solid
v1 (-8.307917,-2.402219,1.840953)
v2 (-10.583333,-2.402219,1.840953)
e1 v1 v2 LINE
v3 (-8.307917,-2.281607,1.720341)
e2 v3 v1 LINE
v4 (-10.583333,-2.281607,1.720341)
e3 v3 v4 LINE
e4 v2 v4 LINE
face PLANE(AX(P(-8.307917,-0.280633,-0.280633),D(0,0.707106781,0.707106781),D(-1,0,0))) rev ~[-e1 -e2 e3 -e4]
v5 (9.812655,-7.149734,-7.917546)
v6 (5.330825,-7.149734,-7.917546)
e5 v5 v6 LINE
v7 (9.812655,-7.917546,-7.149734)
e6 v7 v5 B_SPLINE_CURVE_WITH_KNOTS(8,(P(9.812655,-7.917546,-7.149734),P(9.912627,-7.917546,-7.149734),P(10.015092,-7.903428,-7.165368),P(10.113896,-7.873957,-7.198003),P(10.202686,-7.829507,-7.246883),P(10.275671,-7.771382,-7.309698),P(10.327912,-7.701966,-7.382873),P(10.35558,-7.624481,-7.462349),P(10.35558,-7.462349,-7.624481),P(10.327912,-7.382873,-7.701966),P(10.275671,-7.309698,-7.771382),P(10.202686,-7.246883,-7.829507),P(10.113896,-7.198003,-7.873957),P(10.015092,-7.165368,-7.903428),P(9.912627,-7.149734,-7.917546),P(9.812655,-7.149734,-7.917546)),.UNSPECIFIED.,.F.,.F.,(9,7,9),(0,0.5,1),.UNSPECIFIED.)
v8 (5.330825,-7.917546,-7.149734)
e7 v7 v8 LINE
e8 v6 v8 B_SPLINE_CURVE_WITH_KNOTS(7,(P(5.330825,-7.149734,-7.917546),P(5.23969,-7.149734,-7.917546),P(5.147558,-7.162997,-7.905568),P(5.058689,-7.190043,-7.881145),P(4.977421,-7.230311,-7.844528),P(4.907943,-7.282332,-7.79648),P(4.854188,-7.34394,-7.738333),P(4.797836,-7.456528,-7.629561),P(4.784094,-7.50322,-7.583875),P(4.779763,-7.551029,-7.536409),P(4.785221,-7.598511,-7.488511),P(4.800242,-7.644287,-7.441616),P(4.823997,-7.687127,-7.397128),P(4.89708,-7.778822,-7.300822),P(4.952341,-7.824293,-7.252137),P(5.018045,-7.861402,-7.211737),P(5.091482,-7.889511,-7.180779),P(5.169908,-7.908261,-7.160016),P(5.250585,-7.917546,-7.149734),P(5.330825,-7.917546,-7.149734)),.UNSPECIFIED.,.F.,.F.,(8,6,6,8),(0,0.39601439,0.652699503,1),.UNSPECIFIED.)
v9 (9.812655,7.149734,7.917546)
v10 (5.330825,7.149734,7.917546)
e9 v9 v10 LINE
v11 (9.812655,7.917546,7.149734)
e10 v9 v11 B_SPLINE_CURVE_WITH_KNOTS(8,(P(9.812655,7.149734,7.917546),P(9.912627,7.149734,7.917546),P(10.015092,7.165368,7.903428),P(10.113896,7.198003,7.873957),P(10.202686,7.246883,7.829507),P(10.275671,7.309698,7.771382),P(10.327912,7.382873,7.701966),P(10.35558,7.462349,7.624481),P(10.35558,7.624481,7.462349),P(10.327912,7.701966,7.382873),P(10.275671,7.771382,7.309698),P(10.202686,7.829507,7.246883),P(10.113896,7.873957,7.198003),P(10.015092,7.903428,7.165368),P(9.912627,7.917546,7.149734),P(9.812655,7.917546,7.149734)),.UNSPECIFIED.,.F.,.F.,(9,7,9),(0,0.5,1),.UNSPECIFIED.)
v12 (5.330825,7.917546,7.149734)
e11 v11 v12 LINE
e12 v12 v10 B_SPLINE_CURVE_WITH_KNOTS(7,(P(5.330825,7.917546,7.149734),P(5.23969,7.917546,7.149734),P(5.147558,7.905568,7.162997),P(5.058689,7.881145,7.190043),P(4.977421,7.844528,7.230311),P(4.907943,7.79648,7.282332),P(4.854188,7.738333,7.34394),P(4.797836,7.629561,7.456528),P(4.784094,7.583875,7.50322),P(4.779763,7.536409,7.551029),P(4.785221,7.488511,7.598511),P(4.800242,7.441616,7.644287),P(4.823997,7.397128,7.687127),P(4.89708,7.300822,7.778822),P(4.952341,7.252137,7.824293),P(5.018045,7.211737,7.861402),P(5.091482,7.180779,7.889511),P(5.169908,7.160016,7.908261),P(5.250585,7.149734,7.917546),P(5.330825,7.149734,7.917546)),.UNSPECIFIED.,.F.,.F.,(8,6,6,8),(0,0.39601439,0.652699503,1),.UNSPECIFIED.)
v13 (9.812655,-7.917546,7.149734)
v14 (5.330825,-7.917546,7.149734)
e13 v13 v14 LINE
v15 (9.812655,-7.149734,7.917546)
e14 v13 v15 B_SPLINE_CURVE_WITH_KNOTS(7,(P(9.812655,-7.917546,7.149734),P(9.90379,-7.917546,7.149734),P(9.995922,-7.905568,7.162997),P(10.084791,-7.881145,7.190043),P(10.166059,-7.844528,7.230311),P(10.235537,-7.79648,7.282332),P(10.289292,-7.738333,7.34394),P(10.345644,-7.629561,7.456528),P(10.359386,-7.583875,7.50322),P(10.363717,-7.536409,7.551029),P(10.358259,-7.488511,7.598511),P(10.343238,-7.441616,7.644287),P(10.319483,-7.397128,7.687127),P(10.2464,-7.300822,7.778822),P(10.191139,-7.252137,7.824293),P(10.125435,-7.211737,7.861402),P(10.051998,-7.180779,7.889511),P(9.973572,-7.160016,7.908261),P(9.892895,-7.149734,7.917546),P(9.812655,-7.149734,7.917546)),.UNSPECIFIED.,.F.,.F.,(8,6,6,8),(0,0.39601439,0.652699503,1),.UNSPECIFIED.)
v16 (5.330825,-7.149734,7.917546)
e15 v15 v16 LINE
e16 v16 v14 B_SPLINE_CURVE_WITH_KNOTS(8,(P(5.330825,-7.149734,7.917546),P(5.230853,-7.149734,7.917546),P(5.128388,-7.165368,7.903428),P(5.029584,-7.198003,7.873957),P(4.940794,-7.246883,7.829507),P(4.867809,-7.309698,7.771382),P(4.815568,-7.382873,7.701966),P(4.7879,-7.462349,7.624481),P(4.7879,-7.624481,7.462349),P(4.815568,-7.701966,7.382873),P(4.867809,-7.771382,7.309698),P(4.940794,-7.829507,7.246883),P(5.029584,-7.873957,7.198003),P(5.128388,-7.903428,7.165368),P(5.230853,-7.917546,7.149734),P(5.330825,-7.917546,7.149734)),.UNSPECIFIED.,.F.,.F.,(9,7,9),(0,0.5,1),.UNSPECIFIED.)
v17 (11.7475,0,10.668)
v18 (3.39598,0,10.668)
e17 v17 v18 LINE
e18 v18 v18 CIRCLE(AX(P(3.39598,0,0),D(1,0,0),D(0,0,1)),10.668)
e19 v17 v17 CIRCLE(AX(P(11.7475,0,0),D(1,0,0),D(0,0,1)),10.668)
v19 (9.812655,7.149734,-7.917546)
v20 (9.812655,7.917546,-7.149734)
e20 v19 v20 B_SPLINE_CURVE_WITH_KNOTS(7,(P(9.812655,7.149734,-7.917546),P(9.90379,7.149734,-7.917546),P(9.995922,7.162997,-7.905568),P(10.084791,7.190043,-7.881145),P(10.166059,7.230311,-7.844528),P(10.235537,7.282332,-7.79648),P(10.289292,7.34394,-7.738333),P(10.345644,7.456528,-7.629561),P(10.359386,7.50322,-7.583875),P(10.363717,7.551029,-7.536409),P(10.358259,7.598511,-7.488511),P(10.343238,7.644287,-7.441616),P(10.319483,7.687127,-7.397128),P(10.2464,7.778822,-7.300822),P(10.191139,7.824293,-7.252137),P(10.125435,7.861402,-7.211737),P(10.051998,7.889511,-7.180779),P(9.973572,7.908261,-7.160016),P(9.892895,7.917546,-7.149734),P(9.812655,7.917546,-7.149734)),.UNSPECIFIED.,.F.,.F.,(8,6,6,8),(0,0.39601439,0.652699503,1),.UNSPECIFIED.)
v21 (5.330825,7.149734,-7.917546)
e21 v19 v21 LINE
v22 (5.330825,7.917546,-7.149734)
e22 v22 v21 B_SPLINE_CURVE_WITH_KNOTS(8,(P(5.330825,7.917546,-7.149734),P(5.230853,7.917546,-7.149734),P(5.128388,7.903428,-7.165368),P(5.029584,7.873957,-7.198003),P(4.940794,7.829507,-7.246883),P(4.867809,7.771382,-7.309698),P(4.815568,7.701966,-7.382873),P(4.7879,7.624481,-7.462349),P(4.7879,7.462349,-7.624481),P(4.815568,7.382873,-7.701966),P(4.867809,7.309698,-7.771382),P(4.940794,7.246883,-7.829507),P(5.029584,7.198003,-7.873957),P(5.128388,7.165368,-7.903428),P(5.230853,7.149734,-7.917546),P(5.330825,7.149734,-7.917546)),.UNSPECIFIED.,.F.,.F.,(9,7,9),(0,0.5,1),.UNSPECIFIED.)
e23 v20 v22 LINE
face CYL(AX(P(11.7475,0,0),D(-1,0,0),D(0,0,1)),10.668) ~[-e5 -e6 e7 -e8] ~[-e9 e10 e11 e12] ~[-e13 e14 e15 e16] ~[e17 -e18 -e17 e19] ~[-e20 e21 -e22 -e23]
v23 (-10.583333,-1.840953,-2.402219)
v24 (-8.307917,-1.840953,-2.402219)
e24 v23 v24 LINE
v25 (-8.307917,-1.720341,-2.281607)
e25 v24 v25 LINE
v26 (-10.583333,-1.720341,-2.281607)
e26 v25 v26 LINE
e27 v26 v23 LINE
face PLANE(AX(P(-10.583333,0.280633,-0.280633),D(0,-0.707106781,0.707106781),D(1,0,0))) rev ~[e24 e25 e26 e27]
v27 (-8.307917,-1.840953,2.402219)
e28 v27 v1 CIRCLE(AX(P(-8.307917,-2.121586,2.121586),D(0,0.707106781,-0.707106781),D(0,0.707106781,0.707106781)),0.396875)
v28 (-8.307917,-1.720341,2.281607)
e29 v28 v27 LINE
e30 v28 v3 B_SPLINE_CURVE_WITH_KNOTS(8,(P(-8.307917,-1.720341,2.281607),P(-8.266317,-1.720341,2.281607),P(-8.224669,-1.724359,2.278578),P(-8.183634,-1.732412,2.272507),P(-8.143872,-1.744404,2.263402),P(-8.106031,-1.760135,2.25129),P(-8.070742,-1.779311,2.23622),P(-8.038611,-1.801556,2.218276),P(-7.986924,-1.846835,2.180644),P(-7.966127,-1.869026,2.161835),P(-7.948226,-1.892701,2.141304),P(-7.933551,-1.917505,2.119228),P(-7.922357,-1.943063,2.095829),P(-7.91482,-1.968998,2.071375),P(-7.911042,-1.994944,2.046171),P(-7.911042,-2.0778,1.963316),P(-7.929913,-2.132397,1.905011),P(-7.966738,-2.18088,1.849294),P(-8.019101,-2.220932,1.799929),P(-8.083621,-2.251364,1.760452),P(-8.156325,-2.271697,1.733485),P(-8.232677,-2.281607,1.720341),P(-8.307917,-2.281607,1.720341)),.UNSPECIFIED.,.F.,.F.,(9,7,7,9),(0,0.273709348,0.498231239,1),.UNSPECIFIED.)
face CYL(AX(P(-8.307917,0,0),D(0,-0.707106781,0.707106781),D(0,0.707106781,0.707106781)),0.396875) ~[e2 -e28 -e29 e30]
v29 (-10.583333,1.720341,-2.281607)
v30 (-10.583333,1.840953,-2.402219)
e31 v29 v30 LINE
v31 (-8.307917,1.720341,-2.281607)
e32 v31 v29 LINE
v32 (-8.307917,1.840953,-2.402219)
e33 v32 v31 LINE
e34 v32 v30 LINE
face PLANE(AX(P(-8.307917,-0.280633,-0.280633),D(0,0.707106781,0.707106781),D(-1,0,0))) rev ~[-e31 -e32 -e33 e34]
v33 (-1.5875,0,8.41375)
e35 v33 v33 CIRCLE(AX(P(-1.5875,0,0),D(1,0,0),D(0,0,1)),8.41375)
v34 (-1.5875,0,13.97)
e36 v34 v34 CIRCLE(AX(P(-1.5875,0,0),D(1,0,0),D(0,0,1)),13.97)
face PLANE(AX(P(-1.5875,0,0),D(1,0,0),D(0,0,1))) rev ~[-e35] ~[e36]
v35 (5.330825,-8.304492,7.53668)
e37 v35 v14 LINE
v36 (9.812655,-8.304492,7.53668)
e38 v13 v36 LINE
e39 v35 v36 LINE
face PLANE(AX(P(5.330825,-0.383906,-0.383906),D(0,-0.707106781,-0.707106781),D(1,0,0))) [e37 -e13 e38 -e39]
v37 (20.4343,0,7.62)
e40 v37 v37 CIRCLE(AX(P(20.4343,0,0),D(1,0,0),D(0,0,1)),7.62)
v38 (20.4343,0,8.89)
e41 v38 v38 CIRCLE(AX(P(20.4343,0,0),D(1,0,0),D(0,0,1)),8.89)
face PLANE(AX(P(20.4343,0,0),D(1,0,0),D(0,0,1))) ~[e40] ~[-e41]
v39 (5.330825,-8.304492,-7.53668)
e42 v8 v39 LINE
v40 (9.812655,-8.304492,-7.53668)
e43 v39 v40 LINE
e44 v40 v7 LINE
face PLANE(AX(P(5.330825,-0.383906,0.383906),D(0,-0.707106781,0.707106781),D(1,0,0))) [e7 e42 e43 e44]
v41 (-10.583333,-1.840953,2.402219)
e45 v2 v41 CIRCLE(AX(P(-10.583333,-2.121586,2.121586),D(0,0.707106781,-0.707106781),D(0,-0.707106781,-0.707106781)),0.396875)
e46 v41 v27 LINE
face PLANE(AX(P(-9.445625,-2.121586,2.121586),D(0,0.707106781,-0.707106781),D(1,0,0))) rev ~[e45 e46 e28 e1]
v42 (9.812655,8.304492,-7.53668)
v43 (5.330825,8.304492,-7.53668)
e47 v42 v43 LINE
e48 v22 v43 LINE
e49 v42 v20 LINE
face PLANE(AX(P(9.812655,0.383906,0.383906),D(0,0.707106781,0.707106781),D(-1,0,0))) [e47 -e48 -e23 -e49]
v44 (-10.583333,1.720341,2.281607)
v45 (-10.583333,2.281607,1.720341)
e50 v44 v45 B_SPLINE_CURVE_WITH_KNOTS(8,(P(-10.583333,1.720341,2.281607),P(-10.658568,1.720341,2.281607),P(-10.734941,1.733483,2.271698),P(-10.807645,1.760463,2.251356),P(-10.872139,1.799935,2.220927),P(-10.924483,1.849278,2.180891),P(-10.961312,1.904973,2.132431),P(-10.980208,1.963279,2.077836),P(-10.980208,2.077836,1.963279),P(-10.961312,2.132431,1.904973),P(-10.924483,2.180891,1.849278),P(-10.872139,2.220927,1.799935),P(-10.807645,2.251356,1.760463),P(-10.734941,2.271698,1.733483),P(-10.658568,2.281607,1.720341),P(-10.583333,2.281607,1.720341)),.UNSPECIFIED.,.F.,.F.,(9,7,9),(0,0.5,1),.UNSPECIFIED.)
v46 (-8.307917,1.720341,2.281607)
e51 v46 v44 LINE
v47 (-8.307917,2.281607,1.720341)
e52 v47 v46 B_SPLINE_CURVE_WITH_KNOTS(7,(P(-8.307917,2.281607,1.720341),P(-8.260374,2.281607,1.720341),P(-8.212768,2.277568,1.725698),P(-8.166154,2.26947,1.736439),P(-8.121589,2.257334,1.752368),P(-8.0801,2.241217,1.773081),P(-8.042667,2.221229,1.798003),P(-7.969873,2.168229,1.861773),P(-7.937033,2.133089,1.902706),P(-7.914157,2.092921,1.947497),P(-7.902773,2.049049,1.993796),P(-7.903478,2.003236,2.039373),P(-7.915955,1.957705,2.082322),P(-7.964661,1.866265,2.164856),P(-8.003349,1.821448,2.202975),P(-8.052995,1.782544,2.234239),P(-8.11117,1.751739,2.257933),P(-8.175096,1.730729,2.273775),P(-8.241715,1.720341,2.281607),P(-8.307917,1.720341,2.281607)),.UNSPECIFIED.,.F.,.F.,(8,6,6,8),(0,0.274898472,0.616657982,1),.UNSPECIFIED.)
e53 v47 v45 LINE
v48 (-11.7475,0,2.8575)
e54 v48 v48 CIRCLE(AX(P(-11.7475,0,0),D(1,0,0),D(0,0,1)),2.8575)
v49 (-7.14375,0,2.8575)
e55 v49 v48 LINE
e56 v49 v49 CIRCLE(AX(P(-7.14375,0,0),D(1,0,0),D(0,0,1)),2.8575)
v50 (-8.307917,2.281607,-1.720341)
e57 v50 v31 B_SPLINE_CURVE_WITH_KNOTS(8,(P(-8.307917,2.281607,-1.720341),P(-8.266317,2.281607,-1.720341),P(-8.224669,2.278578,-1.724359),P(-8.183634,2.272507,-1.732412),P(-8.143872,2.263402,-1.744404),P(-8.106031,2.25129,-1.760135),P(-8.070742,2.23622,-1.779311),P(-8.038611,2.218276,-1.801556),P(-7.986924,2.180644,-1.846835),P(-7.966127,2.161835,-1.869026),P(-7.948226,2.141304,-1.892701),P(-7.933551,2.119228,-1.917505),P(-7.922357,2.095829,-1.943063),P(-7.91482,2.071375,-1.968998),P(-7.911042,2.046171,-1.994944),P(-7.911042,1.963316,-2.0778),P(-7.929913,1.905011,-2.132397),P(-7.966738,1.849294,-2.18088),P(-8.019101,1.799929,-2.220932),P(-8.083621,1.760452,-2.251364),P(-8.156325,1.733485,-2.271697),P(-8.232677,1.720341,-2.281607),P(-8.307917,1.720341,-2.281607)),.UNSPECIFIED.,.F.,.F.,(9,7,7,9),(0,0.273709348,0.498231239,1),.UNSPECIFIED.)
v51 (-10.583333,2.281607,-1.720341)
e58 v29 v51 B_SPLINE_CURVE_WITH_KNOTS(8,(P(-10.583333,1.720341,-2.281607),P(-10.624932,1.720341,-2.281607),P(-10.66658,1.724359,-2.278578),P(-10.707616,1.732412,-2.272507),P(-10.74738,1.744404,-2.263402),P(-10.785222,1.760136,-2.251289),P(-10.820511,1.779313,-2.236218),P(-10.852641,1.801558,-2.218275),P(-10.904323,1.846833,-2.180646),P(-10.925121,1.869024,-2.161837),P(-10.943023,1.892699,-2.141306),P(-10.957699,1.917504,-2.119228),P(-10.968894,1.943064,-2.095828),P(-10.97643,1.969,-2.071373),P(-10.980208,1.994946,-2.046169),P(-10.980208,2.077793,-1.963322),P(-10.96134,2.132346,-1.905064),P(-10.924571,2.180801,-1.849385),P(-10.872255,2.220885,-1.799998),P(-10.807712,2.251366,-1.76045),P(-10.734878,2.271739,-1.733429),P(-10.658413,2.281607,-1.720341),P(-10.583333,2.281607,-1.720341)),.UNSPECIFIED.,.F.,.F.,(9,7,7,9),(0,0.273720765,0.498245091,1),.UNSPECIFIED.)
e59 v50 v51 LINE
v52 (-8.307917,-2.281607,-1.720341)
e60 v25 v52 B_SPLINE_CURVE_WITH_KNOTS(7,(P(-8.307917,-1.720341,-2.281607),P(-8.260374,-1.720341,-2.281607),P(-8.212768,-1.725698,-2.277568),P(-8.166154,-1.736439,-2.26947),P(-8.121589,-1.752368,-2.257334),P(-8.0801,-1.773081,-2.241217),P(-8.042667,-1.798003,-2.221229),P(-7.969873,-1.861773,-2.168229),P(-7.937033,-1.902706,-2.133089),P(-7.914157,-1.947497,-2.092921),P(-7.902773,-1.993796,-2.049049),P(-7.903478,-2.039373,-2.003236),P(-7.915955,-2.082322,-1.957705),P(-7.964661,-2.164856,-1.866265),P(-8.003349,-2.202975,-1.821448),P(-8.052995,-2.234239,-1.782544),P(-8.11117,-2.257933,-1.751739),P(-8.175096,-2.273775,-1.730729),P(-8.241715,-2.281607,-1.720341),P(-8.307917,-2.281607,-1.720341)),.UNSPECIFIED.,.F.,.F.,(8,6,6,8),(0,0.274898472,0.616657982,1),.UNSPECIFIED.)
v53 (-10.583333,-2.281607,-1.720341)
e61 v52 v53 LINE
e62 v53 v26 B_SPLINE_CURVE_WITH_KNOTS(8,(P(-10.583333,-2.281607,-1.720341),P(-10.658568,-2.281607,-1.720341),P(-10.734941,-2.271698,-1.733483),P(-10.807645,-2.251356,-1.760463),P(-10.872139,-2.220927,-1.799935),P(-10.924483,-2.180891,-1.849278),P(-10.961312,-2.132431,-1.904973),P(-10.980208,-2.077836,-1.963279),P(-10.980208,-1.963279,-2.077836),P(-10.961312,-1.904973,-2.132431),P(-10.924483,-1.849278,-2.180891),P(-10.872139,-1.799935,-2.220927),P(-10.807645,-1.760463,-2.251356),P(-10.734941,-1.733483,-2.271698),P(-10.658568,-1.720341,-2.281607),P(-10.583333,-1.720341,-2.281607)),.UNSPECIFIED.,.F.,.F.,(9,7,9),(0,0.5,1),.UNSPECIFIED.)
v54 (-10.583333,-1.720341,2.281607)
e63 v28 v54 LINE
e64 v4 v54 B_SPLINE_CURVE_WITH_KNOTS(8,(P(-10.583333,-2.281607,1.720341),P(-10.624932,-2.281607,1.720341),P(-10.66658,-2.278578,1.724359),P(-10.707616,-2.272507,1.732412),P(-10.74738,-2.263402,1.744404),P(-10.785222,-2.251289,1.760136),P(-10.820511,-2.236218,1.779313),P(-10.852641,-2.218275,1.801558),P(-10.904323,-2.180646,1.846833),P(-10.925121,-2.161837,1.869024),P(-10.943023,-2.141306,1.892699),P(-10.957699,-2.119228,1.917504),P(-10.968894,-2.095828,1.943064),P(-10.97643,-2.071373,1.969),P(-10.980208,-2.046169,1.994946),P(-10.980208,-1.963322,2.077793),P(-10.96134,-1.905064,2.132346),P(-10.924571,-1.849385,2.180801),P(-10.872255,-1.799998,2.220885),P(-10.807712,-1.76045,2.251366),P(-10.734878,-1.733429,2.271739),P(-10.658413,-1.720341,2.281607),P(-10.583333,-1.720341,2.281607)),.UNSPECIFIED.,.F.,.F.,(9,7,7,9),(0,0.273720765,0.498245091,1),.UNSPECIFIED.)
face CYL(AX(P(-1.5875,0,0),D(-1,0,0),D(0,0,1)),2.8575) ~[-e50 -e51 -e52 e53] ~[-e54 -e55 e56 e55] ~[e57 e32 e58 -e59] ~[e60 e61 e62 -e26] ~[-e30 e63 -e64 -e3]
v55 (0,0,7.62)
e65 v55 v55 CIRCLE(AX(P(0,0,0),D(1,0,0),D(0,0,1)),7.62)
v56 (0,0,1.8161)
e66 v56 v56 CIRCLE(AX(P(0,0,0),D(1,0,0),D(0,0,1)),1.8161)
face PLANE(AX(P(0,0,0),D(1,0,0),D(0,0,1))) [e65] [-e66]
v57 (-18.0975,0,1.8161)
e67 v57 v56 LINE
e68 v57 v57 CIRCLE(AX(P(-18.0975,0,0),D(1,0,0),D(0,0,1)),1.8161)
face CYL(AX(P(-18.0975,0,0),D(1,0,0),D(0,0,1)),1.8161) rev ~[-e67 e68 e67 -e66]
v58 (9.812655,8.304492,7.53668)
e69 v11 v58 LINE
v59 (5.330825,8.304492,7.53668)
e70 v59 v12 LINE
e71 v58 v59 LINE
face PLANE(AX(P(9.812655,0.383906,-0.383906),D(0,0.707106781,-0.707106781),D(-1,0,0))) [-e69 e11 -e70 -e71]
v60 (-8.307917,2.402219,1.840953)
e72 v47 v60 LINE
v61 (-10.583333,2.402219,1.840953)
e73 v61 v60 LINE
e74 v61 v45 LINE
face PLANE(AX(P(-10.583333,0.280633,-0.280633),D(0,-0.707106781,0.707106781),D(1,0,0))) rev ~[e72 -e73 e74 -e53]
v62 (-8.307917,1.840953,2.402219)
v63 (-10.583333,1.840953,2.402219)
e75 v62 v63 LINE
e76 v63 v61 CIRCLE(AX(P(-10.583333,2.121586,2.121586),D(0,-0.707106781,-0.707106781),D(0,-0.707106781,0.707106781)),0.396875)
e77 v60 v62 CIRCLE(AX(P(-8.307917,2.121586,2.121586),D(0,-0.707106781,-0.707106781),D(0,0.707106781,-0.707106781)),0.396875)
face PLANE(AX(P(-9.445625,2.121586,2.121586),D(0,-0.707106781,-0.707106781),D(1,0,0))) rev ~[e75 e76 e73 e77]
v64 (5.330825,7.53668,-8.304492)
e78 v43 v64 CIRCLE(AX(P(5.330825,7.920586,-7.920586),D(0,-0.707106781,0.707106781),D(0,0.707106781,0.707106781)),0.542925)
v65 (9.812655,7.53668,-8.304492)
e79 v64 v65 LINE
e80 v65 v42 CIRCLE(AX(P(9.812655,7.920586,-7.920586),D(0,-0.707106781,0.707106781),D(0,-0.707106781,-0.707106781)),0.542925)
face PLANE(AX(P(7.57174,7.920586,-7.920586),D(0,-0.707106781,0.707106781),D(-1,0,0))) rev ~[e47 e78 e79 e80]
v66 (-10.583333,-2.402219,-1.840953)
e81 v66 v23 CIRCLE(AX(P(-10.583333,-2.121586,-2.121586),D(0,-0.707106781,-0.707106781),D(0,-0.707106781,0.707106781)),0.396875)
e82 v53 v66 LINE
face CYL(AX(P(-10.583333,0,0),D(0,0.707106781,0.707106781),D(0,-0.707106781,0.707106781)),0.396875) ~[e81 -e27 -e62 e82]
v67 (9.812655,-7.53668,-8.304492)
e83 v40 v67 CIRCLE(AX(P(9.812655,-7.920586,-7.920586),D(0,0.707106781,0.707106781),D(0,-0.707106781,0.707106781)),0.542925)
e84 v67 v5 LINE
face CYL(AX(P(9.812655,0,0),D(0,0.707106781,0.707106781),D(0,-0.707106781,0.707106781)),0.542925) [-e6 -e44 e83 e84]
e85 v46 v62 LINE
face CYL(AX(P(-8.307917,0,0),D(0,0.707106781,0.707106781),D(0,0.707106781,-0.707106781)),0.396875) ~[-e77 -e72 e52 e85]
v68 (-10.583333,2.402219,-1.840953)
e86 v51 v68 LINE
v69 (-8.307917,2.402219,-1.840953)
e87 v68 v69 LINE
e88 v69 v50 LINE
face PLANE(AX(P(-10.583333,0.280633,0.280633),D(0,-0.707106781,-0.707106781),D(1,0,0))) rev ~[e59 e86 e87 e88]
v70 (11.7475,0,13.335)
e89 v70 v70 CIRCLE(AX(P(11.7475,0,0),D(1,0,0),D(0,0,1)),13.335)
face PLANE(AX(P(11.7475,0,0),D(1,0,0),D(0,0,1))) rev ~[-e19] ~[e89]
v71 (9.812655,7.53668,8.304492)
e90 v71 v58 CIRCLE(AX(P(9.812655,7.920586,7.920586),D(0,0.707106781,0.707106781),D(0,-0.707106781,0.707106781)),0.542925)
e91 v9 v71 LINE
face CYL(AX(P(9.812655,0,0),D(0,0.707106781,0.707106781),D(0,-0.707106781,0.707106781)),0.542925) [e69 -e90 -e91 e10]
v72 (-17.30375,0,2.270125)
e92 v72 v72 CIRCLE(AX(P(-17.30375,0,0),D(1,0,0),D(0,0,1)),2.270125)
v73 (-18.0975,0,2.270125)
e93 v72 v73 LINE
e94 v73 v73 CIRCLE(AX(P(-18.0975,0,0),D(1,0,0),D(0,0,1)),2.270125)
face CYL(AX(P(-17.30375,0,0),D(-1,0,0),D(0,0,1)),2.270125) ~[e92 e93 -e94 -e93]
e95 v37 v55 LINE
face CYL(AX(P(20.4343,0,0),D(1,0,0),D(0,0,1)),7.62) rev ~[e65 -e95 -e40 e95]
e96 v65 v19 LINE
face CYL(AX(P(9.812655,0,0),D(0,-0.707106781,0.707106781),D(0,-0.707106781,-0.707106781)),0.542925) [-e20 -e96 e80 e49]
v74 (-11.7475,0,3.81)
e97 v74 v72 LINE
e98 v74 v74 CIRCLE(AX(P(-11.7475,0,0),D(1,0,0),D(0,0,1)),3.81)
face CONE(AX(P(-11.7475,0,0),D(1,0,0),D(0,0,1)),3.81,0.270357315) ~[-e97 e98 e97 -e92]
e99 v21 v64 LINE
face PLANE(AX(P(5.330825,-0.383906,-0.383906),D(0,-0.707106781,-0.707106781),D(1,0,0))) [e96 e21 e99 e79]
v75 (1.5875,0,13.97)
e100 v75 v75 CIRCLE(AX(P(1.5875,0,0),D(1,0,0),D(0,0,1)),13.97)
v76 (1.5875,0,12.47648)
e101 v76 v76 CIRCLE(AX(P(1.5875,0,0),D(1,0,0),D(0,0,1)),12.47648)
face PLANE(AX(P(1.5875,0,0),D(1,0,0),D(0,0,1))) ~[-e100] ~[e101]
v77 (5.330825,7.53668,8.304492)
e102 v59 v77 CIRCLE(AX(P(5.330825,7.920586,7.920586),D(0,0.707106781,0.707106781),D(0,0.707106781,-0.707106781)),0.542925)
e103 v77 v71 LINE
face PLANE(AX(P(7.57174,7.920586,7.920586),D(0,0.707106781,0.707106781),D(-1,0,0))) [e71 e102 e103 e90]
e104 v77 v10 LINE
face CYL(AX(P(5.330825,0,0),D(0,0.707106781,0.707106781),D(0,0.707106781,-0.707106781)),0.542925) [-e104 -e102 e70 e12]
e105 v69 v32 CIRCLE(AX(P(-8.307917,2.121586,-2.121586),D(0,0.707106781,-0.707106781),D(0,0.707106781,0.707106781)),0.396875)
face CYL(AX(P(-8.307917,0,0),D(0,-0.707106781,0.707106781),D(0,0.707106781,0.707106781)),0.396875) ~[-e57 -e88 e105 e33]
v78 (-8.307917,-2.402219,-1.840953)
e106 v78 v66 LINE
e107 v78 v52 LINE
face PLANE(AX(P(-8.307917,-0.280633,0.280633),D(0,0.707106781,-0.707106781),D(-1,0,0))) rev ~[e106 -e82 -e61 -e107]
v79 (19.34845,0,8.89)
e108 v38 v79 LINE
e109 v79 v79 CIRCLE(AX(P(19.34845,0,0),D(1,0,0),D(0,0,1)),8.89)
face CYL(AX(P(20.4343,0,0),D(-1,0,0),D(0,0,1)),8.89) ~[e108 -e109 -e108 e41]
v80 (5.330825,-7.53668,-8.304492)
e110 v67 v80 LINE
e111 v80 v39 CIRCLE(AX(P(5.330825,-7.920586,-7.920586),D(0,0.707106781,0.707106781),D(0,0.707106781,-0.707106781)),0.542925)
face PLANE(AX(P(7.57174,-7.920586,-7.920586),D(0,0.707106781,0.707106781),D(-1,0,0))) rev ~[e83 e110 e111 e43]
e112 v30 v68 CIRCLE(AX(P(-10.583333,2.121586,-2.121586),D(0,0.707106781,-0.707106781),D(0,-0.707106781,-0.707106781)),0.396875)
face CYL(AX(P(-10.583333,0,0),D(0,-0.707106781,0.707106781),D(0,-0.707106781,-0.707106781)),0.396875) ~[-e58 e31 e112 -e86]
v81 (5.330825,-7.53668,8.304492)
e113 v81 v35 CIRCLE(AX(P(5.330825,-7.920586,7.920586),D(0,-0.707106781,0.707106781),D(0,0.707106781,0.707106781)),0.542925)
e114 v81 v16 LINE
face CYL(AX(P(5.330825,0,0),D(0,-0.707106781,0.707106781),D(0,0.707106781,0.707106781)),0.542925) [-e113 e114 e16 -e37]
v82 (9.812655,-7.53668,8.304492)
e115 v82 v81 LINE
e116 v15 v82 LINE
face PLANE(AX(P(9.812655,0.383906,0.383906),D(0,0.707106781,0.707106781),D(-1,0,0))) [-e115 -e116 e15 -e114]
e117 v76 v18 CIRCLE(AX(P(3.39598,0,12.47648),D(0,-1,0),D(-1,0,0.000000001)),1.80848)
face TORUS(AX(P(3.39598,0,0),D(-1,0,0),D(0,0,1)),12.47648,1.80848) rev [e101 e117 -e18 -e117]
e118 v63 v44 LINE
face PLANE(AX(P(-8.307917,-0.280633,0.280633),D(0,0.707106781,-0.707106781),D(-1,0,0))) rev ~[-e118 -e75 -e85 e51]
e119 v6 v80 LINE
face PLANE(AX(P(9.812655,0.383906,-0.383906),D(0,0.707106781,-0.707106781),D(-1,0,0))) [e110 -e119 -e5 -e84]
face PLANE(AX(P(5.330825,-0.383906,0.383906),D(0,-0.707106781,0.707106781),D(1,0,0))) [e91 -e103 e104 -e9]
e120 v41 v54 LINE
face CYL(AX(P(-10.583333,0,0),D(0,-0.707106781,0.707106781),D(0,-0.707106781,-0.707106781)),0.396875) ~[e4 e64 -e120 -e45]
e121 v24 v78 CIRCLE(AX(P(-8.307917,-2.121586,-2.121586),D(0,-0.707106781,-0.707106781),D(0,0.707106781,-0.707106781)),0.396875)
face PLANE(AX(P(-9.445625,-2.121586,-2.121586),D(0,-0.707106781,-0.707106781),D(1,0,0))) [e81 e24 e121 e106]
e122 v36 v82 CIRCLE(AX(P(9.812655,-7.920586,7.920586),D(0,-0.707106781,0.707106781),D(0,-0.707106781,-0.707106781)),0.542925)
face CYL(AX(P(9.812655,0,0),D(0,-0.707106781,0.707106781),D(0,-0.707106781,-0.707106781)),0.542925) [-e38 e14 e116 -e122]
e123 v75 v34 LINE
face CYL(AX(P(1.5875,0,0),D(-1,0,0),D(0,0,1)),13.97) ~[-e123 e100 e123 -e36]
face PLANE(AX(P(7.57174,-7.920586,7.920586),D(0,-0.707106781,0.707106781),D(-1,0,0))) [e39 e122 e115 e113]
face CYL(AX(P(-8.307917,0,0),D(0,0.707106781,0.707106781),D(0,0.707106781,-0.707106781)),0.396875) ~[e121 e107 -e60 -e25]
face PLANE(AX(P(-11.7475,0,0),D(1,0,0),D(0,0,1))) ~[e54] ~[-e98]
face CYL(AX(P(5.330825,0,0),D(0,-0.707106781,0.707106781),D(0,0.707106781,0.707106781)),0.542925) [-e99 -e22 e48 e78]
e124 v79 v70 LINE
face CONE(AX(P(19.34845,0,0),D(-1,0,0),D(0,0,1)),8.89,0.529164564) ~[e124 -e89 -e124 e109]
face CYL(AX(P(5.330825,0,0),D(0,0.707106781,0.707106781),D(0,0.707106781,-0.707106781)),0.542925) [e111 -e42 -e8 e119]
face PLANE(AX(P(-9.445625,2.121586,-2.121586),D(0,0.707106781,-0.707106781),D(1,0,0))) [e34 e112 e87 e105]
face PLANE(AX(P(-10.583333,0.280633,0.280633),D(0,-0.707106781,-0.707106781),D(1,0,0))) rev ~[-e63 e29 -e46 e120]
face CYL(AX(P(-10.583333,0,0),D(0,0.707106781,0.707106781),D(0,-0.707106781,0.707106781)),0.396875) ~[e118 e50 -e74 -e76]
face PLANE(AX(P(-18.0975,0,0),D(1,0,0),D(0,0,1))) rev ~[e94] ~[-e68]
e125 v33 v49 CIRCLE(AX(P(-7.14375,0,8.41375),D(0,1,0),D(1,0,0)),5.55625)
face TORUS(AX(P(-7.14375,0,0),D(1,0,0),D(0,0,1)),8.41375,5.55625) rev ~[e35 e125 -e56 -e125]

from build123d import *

# Parameters (mm, degrees)
EXTRUDE1_DEPTH     = 11.2014
EXTRUDE2_DEPTH     = 3.000375
CIRPATTERN1_COUNT  = 2
CIRPATTERN1_ANGLE  = 90
SKETCH4_R          = 7.62
CUT_EXTRUDE1_DEPTH = 20.4343
SKETCH7_R          = 1.8161
CUT_EXTRUDE2_DEPTH = 44.301517424


with BuildPart() as part:
    # Sketch1 → Revolve1 (revolve)
    with BuildSketch(Plane.XY, mode=Mode.PRIVATE) as revolve1_sk:
        Polygon((20.4343, 7.62), (20.4343, 8.89), (19.34845, 8.89), (11.7475, 13.335), (11.7475, 10.668), (1.5875, 10.668), (1.5875, 13.97), (-1.5875, 13.97), (-1.5875, 2.8575), (-11.7475, 2.8575), (-11.7475, 3.81), (-17.30375, 2.270125), (-18.0975, 2.270125), (-18.0975, 1.8161), (1.5875, 1.8161), (1.5875, 7.62), align=None)
    revolve(revolve1_sk.sketch.rotate(Axis((0, 0, 0), (1, 0, 0)), 90), axis=Axis((0, 0, 0), (1, 0, 0)))

    # Sketch2 → Revolve2 (revolve)
    with BuildSketch(Plane.XY, mode=Mode.PRIVATE) as revolve2_sk:
        with BuildLine():
            Line((3.39598, 10.668), (1.5875, 10.668))
            Line((1.5875, 10.668), (1.5875, 12.47648))
            ThreePointArc((1.5875, 12.47648), (2.117191528, 11.197691528), (3.39598, 10.668))
        make_face()
        with BuildLine():
            Line((-7.14375, 2.8575), (-1.5875, 2.8575))
            Line((-1.5875, 2.8575), (-1.5875, 8.41375))
            ThreePointArc((-1.5875, 8.41375), (-3.214887947, 4.484887947), (-7.14375, 2.8575))
        make_face()
    revolve(revolve2_sk.sketch.rotate(Axis((0, 0, 0), (1, 0, 0)), 90), axis=Axis((0, 0, 0), (1, 0, 0)))

    # Sketch3 → Extrude1 (add, symmetric)
    with BuildSketch(Plane(origin=(0, 0, 0), x_dir=(-1, 0, 0), z_dir=(0, 0.7071067811865488, 0.7071067811865462))):
        with BuildLine():
            Line((-5.330825, 0.542925), (-9.812655, 0.542925))
            ThreePointArc((-9.812655, 0.542925), (-10.35558, 0), (-9.812655, -0.542925))
            Line((-9.812655, -0.542925), (-5.330825, -0.542925))
            ThreePointArc((-5.330825, -0.542925), (-4.7879, 0), (-5.330825, 0.542925))
        make_face()
    extrude1 = extrude(amount=EXTRUDE1_DEPTH, both=True)

    # Sketch6 → Extrude2 (add, symmetric)
    with BuildSketch(Plane(origin=(0, 0, 0), x_dir=(-1, 0, 0), z_dir=(0, 0.7071067811865488, 0.7071067811865462))):
        with BuildLine():
            Line((8.307916667, 0.396875), (10.583333333, 0.396875))
            ThreePointArc((10.583333333, 0.396875), (10.980208333, 0), (10.583333333, -0.396875))
            Line((10.583333333, -0.396875), (8.307916667, -0.396875))
            ThreePointArc((8.307916667, -0.396875), (7.911041667, 0), (8.307916667, 0.396875))
        make_face()
    extrude2 = extrude(amount=EXTRUDE2_DEPTH, both=True)

    # CirPattern1: Extrude1, Extrude2 ×2 about axis
    cirpattern1_axis = Axis((0, 0, 0), (1, 0, 0))
    add([extrude1.rotate(cirpattern1_axis, i * CIRPATTERN1_ANGLE / (CIRPATTERN1_COUNT - 1)) for i in range(1, CIRPATTERN1_COUNT)])
    add([extrude2.rotate(cirpattern1_axis, i * CIRPATTERN1_ANGLE / (CIRPATTERN1_COUNT - 1)) for i in range(1, CIRPATTERN1_COUNT)])

    # Sketch4 → Cut-Extrude1 (cut)
    with BuildSketch(Plane(origin=(20.4343, 0, 0), x_dir=(0, 0, -1), z_dir=(1, 0, 0))):
        with Locations(Location((0, 0, 0), (0, 0, 180))):
            Circle(SKETCH4_R)
    extrude(amount=-CUT_EXTRUDE1_DEPTH, mode=Mode.SUBTRACT)

    # Sketch7 → Cut-Extrude2 (cut, through all)
    with BuildSketch(Plane.ZY.offset(18.0975)):
        Circle(SKETCH7_R)
    extrude(amount=-CUT_EXTRUDE2_DEPTH, mode=Mode.SUBTRACT)


solid = part.part
